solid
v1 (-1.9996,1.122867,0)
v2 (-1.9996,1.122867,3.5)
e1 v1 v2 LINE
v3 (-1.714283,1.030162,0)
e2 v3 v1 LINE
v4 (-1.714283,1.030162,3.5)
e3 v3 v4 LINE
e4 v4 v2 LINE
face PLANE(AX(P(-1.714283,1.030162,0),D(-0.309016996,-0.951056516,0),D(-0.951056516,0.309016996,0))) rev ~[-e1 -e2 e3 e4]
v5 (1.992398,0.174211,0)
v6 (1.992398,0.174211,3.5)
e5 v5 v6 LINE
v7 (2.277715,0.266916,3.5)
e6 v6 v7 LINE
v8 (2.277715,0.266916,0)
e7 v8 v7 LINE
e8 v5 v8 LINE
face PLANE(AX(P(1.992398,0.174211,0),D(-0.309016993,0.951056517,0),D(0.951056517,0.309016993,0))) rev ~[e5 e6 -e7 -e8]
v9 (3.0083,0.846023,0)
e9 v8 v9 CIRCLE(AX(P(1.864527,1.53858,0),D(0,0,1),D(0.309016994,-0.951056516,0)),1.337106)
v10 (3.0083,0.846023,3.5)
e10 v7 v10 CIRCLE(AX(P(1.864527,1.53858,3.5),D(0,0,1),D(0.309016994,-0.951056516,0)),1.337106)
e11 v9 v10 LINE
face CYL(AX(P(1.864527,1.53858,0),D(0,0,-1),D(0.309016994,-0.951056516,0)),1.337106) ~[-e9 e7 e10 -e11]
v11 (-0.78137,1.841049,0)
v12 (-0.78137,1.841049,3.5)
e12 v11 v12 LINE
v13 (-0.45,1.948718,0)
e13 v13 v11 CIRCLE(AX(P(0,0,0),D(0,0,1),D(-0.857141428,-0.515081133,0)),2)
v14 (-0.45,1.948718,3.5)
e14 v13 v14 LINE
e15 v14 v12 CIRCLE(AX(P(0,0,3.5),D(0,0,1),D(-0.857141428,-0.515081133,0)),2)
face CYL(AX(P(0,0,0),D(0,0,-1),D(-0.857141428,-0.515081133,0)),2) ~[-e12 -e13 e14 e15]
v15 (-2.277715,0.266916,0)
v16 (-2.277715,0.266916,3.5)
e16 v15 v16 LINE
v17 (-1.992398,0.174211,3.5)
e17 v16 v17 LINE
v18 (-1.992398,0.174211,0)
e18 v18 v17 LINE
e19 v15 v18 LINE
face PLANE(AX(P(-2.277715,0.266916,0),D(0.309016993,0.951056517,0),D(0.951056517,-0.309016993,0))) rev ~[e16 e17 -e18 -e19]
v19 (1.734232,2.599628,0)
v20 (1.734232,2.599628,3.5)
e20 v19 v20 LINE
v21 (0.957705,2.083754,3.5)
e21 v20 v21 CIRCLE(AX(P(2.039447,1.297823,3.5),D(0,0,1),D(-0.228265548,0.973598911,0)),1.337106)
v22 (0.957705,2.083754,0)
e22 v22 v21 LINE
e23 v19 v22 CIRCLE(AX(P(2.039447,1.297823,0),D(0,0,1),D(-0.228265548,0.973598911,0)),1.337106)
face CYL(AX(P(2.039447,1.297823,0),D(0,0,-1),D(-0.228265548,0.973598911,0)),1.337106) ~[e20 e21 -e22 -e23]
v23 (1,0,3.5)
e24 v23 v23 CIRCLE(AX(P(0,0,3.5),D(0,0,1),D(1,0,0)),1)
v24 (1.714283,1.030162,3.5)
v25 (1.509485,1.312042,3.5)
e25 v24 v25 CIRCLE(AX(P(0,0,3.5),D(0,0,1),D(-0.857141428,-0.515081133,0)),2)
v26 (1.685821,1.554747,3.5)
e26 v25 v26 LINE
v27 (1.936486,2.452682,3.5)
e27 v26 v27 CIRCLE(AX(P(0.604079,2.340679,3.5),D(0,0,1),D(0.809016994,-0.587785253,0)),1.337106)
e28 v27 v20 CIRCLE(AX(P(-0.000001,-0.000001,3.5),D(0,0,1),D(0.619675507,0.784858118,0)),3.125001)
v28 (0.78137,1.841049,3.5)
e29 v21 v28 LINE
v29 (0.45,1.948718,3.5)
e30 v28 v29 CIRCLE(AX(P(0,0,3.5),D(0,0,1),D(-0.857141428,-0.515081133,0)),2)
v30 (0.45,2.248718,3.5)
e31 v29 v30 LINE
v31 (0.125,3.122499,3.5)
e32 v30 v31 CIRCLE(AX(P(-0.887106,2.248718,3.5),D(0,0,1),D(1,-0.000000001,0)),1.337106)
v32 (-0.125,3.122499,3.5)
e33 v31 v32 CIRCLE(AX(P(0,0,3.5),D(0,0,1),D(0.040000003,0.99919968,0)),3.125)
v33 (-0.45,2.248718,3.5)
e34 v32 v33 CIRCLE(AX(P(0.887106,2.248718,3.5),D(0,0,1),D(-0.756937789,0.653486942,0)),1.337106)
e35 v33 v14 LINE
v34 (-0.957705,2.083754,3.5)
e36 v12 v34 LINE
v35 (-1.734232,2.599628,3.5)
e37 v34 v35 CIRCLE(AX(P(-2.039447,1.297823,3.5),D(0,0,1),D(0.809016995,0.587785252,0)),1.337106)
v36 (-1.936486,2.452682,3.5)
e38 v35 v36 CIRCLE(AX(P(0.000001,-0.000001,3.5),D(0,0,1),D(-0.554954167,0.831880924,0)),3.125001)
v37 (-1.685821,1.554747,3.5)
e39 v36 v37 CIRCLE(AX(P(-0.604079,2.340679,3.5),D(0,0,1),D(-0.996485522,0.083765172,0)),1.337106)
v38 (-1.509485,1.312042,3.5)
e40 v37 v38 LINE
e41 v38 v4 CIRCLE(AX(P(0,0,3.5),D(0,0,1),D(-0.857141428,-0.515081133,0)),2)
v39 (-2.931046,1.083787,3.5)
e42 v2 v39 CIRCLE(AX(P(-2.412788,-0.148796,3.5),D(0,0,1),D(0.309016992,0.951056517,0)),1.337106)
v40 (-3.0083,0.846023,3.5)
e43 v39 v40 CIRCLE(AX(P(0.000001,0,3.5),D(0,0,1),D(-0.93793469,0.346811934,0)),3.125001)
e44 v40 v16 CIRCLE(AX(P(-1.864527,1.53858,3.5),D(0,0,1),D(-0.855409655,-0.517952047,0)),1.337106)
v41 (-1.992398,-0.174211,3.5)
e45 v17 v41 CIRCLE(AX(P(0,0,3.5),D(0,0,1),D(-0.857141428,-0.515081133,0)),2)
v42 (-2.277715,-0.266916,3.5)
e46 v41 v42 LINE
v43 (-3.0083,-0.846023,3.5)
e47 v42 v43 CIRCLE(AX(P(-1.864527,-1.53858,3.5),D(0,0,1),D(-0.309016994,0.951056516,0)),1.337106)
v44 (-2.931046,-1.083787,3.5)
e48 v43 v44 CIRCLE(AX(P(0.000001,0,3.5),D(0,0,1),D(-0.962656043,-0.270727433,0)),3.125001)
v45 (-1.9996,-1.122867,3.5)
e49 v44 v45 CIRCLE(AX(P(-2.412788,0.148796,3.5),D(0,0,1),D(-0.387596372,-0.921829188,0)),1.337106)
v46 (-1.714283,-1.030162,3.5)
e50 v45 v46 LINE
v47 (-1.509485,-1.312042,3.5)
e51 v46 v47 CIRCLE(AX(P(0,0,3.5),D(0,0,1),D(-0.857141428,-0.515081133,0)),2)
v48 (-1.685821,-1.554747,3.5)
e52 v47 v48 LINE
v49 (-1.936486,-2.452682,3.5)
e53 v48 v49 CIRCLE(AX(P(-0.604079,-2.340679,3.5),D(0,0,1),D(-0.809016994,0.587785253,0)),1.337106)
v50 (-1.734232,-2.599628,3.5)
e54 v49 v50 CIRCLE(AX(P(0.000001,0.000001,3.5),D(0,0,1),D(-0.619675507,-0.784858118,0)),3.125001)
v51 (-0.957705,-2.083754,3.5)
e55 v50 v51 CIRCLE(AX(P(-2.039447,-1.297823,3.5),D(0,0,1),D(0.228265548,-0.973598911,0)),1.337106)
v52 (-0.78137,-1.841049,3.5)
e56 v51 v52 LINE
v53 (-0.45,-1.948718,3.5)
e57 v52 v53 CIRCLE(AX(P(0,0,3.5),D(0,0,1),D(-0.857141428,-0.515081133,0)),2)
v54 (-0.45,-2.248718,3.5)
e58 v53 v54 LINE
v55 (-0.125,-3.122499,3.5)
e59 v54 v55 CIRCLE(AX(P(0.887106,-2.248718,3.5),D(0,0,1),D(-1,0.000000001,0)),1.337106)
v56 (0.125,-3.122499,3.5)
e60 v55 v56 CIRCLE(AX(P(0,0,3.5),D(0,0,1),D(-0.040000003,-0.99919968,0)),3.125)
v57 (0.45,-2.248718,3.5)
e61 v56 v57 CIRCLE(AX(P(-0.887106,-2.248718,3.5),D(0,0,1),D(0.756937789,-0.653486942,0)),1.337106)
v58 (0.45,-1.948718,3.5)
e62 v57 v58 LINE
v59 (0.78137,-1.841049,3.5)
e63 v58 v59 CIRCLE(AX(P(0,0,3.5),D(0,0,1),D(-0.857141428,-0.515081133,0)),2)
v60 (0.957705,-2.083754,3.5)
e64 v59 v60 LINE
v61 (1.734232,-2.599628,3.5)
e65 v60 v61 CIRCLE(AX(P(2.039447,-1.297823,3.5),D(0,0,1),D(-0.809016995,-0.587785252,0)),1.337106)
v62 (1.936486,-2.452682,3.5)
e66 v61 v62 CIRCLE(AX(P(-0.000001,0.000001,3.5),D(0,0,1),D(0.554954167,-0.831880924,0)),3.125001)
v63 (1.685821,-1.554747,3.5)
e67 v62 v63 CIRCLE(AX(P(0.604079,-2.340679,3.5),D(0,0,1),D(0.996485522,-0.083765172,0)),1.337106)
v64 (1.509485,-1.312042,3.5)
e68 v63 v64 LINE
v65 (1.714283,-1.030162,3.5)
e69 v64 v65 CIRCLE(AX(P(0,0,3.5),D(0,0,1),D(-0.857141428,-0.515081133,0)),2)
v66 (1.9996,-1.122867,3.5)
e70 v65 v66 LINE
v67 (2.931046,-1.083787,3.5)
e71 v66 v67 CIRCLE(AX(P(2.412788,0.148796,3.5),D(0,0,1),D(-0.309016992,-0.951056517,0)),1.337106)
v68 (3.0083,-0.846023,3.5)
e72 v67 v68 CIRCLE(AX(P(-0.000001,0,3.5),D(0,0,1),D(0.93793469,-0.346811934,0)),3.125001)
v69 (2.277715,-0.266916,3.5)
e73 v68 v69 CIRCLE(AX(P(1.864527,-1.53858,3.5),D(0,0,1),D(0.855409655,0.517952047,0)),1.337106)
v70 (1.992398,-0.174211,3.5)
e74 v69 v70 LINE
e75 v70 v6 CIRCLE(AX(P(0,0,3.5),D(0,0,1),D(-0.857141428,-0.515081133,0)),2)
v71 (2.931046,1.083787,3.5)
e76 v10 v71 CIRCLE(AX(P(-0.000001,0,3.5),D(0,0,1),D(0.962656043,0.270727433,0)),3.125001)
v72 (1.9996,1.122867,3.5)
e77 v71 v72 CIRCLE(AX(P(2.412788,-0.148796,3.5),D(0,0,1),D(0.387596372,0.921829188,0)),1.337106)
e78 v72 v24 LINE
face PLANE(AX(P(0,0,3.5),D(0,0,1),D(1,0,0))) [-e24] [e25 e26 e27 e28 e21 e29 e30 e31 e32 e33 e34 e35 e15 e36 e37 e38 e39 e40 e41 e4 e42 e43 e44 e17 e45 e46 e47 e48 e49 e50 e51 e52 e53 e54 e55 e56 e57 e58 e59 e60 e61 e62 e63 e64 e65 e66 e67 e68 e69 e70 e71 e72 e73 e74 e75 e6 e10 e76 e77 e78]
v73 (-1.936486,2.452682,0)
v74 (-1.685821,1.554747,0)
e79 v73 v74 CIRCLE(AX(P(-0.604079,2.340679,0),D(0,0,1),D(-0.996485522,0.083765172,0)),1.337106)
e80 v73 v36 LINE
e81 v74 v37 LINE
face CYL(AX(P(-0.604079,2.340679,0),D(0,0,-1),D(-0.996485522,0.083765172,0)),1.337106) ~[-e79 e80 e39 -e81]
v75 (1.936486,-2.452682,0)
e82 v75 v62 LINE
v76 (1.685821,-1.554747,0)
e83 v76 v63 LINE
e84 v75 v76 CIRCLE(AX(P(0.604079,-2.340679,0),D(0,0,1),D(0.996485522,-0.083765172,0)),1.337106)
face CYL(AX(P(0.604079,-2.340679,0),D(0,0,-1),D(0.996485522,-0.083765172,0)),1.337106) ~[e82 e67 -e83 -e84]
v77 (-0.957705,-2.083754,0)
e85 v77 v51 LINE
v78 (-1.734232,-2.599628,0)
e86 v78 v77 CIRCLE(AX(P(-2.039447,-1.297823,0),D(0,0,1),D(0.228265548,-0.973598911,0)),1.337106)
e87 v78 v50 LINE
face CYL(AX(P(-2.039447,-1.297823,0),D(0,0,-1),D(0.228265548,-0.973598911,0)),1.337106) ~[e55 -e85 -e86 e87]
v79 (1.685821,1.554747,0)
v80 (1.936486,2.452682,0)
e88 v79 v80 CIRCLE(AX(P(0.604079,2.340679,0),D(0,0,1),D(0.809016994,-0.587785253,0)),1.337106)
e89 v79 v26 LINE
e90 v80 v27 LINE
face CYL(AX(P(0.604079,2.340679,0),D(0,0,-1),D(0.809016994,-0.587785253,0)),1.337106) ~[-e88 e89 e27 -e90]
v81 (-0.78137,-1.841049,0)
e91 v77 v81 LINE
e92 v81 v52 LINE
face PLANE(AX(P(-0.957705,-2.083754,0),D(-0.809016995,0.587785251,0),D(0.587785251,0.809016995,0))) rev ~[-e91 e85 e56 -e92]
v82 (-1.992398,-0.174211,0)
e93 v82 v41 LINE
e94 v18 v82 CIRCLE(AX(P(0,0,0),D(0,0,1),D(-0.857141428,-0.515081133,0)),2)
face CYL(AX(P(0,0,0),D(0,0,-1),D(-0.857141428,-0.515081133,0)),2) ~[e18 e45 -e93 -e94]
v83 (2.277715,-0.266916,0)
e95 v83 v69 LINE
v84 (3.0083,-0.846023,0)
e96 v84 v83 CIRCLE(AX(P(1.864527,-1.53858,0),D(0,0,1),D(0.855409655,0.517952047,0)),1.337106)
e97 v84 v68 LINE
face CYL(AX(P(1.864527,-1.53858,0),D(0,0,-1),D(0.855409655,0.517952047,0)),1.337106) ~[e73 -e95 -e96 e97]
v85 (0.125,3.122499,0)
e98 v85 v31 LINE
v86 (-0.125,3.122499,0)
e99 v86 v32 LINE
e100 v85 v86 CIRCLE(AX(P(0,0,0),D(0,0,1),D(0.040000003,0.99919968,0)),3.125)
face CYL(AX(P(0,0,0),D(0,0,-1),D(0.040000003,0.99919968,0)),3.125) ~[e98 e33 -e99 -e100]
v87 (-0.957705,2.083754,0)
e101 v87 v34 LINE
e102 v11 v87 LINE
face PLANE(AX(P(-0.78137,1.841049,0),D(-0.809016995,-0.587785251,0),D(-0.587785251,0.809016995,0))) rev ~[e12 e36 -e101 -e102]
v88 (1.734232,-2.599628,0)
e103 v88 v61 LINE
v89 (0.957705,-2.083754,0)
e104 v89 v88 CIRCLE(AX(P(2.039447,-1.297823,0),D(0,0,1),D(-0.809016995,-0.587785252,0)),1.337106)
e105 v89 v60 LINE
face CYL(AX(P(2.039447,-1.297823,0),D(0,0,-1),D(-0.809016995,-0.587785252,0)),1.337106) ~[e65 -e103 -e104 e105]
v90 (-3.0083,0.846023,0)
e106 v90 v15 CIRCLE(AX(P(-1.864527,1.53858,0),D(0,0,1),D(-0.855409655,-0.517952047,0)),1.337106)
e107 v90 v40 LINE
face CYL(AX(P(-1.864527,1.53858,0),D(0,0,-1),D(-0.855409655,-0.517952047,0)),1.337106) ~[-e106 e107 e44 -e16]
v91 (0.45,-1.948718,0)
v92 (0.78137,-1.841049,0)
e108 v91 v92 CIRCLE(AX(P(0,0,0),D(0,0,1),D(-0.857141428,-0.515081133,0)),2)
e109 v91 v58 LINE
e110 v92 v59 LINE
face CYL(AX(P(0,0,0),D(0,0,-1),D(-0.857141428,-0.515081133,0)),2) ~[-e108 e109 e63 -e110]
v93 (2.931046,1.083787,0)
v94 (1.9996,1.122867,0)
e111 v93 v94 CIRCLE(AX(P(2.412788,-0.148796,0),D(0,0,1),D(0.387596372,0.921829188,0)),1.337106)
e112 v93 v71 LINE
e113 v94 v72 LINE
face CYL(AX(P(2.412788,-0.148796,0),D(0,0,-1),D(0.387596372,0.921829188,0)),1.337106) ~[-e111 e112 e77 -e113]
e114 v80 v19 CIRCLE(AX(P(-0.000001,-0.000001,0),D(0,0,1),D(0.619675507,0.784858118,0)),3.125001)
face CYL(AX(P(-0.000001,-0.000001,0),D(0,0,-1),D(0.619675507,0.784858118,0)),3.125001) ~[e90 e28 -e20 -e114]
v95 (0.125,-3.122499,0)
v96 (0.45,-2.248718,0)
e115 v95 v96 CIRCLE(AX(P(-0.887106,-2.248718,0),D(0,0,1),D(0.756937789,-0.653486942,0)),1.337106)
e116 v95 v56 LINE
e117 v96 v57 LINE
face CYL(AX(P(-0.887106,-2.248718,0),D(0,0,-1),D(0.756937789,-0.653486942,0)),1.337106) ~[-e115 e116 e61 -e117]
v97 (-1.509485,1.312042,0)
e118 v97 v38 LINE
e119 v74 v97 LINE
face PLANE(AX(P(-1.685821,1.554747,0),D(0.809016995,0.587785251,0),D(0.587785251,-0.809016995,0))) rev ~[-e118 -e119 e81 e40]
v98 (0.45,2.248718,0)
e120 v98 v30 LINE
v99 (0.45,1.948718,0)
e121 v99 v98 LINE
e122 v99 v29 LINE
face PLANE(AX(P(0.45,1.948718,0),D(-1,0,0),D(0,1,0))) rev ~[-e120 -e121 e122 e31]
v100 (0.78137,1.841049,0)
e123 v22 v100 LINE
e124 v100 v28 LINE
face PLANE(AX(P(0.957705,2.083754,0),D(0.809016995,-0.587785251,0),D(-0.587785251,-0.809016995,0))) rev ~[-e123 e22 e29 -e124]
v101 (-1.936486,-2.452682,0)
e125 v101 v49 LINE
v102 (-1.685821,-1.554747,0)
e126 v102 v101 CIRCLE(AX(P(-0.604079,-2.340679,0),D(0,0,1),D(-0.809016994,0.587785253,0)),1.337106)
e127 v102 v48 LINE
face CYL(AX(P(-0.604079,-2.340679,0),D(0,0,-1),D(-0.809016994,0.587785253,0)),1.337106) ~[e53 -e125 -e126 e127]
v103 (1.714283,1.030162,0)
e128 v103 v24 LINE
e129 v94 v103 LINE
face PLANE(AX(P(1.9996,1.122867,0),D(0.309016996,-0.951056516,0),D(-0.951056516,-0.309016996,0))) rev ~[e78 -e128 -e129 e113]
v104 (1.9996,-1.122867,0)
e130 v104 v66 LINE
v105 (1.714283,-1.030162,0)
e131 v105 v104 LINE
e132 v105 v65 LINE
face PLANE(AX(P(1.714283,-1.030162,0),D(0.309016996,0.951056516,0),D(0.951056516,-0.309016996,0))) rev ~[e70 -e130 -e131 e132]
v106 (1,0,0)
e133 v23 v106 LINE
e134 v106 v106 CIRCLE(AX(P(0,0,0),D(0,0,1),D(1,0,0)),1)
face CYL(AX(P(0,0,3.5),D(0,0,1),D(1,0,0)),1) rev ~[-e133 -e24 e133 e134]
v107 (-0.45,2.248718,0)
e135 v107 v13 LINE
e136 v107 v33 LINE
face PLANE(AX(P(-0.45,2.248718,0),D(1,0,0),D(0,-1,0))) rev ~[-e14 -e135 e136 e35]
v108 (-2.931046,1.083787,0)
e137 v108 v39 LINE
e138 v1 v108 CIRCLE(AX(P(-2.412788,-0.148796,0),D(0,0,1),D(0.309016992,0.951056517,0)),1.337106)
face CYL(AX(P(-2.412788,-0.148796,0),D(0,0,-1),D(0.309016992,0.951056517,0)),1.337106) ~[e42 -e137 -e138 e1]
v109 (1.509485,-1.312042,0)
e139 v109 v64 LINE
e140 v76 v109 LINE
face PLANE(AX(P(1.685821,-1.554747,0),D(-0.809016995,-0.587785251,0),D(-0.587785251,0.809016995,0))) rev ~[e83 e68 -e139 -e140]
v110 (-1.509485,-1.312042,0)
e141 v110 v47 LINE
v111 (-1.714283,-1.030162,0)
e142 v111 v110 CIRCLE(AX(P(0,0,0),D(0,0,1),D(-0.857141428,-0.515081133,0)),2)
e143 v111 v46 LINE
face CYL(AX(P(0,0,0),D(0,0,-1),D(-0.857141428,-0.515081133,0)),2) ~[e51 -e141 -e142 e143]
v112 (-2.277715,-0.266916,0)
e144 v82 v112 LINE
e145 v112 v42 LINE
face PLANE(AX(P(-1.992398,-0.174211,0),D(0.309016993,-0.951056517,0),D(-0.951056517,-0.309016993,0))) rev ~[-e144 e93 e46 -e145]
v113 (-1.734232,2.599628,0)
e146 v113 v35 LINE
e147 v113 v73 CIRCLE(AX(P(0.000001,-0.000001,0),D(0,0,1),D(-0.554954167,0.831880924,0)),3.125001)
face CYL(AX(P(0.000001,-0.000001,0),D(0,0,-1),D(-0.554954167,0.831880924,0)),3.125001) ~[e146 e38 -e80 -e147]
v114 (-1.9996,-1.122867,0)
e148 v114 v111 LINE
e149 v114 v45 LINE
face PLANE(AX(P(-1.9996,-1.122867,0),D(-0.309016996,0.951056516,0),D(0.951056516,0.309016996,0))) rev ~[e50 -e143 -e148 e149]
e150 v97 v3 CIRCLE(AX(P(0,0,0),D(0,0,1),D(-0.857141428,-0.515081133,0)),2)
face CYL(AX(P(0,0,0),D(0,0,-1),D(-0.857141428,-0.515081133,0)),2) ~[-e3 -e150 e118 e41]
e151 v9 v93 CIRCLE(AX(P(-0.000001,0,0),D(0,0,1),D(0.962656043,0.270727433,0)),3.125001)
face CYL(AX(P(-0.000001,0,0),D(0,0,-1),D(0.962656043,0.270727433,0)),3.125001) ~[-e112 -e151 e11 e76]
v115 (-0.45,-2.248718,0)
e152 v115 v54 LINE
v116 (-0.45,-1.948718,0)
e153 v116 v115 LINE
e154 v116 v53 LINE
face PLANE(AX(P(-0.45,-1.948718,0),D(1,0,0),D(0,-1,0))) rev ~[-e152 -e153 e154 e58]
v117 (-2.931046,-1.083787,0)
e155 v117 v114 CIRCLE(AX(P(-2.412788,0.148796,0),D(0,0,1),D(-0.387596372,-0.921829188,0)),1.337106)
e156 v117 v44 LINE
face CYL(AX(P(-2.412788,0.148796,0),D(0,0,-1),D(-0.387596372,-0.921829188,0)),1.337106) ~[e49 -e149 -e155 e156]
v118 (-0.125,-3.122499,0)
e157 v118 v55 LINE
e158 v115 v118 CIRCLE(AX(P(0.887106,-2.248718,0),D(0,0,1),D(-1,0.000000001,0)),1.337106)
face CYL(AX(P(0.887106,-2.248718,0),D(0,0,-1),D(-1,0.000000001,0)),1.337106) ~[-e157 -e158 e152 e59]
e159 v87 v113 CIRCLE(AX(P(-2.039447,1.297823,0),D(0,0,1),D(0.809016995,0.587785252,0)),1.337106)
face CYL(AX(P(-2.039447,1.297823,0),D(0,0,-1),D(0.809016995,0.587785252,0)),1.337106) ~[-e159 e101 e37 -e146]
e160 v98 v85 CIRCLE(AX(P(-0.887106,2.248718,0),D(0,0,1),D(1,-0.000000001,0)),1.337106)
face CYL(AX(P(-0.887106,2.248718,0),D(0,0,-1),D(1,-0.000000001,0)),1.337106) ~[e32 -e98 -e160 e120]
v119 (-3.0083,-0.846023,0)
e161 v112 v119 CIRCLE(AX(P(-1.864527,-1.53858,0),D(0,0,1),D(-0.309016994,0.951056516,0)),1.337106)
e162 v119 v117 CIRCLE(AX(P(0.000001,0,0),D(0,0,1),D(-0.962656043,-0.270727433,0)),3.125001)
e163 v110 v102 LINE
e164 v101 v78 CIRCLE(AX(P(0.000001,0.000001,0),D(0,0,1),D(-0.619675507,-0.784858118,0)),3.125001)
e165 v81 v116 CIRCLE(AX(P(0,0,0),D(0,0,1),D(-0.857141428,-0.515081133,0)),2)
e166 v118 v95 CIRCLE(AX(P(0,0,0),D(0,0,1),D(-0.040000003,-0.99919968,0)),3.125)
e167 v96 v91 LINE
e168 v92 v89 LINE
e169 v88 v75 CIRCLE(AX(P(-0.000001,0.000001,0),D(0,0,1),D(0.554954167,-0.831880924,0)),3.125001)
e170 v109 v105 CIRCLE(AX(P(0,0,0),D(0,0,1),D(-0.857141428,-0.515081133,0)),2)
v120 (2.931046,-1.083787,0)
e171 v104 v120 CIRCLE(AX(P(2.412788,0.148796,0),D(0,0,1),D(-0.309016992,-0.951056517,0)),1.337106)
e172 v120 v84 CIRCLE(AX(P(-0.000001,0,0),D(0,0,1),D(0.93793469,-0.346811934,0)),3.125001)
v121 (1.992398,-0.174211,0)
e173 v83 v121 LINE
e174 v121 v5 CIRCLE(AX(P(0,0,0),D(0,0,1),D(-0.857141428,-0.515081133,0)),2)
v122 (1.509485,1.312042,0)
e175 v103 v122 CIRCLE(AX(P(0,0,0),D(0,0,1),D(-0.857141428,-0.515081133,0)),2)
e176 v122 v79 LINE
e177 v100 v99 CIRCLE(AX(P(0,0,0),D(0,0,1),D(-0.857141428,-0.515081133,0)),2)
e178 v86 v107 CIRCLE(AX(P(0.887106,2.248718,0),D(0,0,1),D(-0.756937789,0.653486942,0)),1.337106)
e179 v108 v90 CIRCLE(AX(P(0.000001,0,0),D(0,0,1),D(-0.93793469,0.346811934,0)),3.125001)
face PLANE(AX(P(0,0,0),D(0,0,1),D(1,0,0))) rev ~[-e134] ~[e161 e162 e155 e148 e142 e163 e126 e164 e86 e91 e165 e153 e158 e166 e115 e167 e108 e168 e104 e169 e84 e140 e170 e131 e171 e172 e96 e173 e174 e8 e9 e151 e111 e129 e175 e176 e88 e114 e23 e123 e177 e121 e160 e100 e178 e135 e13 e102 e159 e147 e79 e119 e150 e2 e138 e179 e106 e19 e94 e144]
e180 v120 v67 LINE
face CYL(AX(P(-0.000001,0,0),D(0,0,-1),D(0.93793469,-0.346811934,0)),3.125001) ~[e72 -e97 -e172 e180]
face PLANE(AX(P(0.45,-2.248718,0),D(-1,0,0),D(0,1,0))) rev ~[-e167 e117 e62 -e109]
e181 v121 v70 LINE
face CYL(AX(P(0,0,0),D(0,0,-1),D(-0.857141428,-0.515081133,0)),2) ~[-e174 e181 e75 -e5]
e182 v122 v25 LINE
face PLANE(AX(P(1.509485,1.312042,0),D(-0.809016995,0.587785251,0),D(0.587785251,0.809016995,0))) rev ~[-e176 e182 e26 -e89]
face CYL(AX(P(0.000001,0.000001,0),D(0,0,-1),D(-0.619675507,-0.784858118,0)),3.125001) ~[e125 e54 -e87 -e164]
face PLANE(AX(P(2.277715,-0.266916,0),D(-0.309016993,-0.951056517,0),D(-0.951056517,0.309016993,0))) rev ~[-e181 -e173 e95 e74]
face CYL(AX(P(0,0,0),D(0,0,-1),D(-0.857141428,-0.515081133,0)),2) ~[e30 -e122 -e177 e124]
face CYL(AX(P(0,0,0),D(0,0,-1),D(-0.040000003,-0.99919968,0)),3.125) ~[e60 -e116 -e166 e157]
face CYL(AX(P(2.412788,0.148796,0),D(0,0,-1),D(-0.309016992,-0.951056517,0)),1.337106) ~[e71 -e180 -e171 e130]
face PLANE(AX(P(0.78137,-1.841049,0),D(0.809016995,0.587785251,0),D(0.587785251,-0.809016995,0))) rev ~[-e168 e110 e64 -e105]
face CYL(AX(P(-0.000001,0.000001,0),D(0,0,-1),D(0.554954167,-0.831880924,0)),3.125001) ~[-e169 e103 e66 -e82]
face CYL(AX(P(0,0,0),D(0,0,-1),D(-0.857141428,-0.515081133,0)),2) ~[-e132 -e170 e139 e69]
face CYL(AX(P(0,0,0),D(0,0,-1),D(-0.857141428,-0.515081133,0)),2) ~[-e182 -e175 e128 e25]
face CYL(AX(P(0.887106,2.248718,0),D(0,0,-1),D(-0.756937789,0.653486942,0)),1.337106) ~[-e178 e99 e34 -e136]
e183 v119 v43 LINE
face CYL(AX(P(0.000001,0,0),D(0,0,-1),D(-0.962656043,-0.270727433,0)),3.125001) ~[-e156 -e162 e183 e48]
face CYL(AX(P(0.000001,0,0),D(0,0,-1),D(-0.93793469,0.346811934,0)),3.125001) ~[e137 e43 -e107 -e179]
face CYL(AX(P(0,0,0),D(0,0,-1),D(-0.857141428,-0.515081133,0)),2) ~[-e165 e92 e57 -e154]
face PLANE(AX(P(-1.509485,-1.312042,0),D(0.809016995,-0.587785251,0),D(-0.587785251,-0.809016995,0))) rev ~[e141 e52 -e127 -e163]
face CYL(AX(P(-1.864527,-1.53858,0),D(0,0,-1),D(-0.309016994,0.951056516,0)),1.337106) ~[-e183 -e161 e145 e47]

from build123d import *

# Parameters (mm, degrees)
ESBO_O1_R                = 2
RESSALTO_EXTRUS_O1_DEPTH = 3.5
CORTE_EXTRUS_O1_REACH    = 7.574
ESBO_O2_R                = 1


with BuildPart() as part:
    # Esboço1 → Ressalto-extrusão1 (new body)
    with BuildSketch(Plane.XY):
        Circle(ESBO_O1_R)
        with BuildLine():
            Line((-1.99959981, -1.122867364), (-1.714282855, -1.030162265))
            ThreePointArc((-1.714282855, -1.030162265), (-1.902113033, -0.618033989), (-1.99239815, -0.174211401))
            Line((-1.99239815, -0.174211401), (-2.277715105, -0.266916499))
            ThreePointArc((-2.277715105, -0.266916499), (-2.695113044, -0.490735084), (-3.008300145, -0.846023191))
            ThreePointArc((-3.008300145, -0.846023191), (-2.972051613, -0.965678107), (-2.931045896, -1.08378732))
            ThreePointArc((-2.931045896, -1.08378732), (-2.4688391, -1.187134677), (-1.99959981, -1.122867364))
        make_face()
        with BuildLine():
            Line((-2.277715105, 0.266916499), (-1.99239815, 0.174211401))
            ThreePointArc((-1.99239815, 0.174211401), (-1.902113033, 0.618033989), (-1.714282855, 1.030162265))
            Line((-1.714282855, 1.030162265), (-1.99959981, 1.122867364))
            ThreePointArc((-1.99959981, 1.122867364), (-2.4688391, 1.187134677), (-2.931045896, 1.08378732))
            ThreePointArc((-2.931045896, 1.08378732), (-2.972051613, 0.965678107), (-3.008300145, 0.846023191))
            ThreePointArc((-3.008300145, 0.846023191), (-2.695113044, 0.490735084), (-2.277715105, 0.266916499))
        make_face()
        with BuildLine():
            Line((-1.685820646, 1.554747331), (-1.509485071, 1.312042233))
            ThreePointArc((-1.509485071, 1.312042233), (-1.175570505, 1.618033989), (-0.781369776, 1.84104896))
            Line((-0.781369776, 1.84104896), (-0.957705351, 2.083754058))
            ThreePointArc((-0.957705351, 2.083754058), (-1.299552532, 2.411559342), (-1.734231738, 2.599627912))
            ThreePointArc((-1.734231738, 2.599627912), (-1.836828913, 2.528178107), (-1.936485986, 2.452681599))
            ThreePointArc((-1.936485986, 2.452681599), (-1.891945409, 1.981160724), (-1.685820646, 1.554747331))
        make_face()
        with BuildLine():
            Line((-0.45, 2.248717527), (-0.45, 1.948717527))
            ThreePointArc((-0.45, 1.948717527), (0, 2), (0.45, 1.948717527))
            Line((0.45, 1.948717527), (0.45, 2.248717527))
            ThreePointArc((0.45, 2.248717527), (0.366118933, 2.714850303), (0.125, 3.122498999))
            ThreePointArc((0.125, 3.122498999), (0, 3.125), (-0.125, 3.122498999))
            ThreePointArc((-0.125, 3.122498999), (-0.366118933, 2.714850303), (-0.45, 2.248717527))
        make_face()
        with BuildLine():
            ThreePointArc((0.781369776, 1.84104896), (1.175570505, 1.618033989), (1.509485071, 1.312042233))
            Line((1.509485071, 1.312042233), (1.685820646, 1.554747331))
            ThreePointArc((1.685820646, 1.554747331), (1.891945409, 1.981160724), (1.936485986, 2.452681599))
            ThreePointArc((1.936485986, 2.452681599), (1.836828913, 2.528178107), (1.734231738, 2.599627912))
            ThreePointArc((1.734231738, 2.599627912), (1.299552532, 2.411559342), (0.957705351, 2.083754058))
            Line((0.957705351, 2.083754058), (0.781369776, 1.84104896))
        make_face()
        with BuildLine():
            ThreePointArc((1.714282855, 1.030162265), (1.902113033, 0.618033989), (1.99239815, 0.174211401))
            Line((1.99239815, 0.174211401), (2.277715105, 0.266916499))
            ThreePointArc((2.277715105, 0.266916499), (2.695113044, 0.490735084), (3.008300145, 0.846023191))
            ThreePointArc((3.008300145, 0.846023191), (2.972051613, 0.965678107), (2.931045896, 1.08378732))
            ThreePointArc((2.931045896, 1.08378732), (2.4688391, 1.187134677), (1.99959981, 1.122867364))
            Line((1.99959981, 1.122867364), (1.714282855, 1.030162265))
        make_face()
        with BuildLine():
            ThreePointArc((1.99239815, -0.174211401), (1.902113033, -0.618033989), (1.714282855, -1.030162265))
            Line((1.714282855, -1.030162265), (1.99959981, -1.122867364))
            ThreePointArc((1.99959981, -1.122867364), (2.4688391, -1.187134677), (2.931045896, -1.08378732))
            ThreePointArc((2.931045896, -1.08378732), (2.972051613, -0.965678107), (3.008300145, -0.846023191))
            ThreePointArc((3.008300145, -0.846023191), (2.695113044, -0.490735084), (2.277715105, -0.266916499))
            Line((2.277715105, -0.266916499), (1.99239815, -0.174211401))
        make_face()
        with BuildLine():
            ThreePointArc((1.509485071, -1.312042233), (1.175570505, -1.618033989), (0.781369776, -1.84104896))
            Line((0.781369776, -1.84104896), (0.957705351, -2.083754058))
            ThreePointArc((0.957705351, -2.083754058), (1.299552532, -2.411559342), (1.734231738, -2.599627912))
            ThreePointArc((1.734231738, -2.599627912), (1.836828913, -2.528178107), (1.936485986, -2.452681599))
            ThreePointArc((1.936485986, -2.452681599), (1.891945409, -1.981160724), (1.685820646, -1.554747331))
            Line((1.685820646, -1.554747331), (1.509485071, -1.312042233))
        make_face()
        with BuildLine():
            Line((-0.45, -1.948717527), (-0.45, -2.248717527))
            ThreePointArc((-0.45, -2.248717527), (-0.366118933, -2.714850303), (-0.125, -3.122498999))
            ThreePointArc((-0.125, -3.122498999), (0, -3.125), (0.125, -3.122498999))
            ThreePointArc((0.125, -3.122498999), (0.366118933, -2.714850303), (0.45, -2.248717527))
            Line((0.45, -2.248717527), (0.45, -1.948717527))
            ThreePointArc((0.45, -1.948717527), (0, -2), (-0.45, -1.948717527))
        make_face()
        with BuildLine():
            Line((-0.957705351, -2.083754058), (-0.781369776, -1.84104896))
            ThreePointArc((-0.781369776, -1.84104896), (-1.175570505, -1.618033989), (-1.509485071, -1.312042233))
            Line((-1.509485071, -1.312042233), (-1.685820646, -1.554747331))
            ThreePointArc((-1.685820646, -1.554747331), (-1.891945409, -1.981160724), (-1.936485986, -2.452681599))
            ThreePointArc((-1.936485986, -2.452681599), (-1.836828913, -2.528178107), (-1.734231738, -2.599627912))
            ThreePointArc((-1.734231738, -2.599627912), (-1.299552532, -2.411559342), (-0.957705351, -2.083754058))
        make_face()
    extrude(amount=RESSALTO_EXTRUS_O1_DEPTH)

    # Esboço2 → Corte-extrusão1 (cut, up to next)
    with BuildSketch(Plane.XY.offset(3.5), mode=Mode.PRIVATE) as corte_extrus_o1_sk1:
        Circle(ESBO_O2_R)
    corte_extrus_o1_tool1 = extrude(corte_extrus_o1_sk1.sketch, amount=-CORTE_EXTRUS_O1_REACH, mode=Mode.PRIVATE) & part.part
    add(corte_extrus_o1_tool1.solids().sort_by_distance((0, 0, 3.5))[0], mode=Mode.SUBTRACT)


solid = part.part
